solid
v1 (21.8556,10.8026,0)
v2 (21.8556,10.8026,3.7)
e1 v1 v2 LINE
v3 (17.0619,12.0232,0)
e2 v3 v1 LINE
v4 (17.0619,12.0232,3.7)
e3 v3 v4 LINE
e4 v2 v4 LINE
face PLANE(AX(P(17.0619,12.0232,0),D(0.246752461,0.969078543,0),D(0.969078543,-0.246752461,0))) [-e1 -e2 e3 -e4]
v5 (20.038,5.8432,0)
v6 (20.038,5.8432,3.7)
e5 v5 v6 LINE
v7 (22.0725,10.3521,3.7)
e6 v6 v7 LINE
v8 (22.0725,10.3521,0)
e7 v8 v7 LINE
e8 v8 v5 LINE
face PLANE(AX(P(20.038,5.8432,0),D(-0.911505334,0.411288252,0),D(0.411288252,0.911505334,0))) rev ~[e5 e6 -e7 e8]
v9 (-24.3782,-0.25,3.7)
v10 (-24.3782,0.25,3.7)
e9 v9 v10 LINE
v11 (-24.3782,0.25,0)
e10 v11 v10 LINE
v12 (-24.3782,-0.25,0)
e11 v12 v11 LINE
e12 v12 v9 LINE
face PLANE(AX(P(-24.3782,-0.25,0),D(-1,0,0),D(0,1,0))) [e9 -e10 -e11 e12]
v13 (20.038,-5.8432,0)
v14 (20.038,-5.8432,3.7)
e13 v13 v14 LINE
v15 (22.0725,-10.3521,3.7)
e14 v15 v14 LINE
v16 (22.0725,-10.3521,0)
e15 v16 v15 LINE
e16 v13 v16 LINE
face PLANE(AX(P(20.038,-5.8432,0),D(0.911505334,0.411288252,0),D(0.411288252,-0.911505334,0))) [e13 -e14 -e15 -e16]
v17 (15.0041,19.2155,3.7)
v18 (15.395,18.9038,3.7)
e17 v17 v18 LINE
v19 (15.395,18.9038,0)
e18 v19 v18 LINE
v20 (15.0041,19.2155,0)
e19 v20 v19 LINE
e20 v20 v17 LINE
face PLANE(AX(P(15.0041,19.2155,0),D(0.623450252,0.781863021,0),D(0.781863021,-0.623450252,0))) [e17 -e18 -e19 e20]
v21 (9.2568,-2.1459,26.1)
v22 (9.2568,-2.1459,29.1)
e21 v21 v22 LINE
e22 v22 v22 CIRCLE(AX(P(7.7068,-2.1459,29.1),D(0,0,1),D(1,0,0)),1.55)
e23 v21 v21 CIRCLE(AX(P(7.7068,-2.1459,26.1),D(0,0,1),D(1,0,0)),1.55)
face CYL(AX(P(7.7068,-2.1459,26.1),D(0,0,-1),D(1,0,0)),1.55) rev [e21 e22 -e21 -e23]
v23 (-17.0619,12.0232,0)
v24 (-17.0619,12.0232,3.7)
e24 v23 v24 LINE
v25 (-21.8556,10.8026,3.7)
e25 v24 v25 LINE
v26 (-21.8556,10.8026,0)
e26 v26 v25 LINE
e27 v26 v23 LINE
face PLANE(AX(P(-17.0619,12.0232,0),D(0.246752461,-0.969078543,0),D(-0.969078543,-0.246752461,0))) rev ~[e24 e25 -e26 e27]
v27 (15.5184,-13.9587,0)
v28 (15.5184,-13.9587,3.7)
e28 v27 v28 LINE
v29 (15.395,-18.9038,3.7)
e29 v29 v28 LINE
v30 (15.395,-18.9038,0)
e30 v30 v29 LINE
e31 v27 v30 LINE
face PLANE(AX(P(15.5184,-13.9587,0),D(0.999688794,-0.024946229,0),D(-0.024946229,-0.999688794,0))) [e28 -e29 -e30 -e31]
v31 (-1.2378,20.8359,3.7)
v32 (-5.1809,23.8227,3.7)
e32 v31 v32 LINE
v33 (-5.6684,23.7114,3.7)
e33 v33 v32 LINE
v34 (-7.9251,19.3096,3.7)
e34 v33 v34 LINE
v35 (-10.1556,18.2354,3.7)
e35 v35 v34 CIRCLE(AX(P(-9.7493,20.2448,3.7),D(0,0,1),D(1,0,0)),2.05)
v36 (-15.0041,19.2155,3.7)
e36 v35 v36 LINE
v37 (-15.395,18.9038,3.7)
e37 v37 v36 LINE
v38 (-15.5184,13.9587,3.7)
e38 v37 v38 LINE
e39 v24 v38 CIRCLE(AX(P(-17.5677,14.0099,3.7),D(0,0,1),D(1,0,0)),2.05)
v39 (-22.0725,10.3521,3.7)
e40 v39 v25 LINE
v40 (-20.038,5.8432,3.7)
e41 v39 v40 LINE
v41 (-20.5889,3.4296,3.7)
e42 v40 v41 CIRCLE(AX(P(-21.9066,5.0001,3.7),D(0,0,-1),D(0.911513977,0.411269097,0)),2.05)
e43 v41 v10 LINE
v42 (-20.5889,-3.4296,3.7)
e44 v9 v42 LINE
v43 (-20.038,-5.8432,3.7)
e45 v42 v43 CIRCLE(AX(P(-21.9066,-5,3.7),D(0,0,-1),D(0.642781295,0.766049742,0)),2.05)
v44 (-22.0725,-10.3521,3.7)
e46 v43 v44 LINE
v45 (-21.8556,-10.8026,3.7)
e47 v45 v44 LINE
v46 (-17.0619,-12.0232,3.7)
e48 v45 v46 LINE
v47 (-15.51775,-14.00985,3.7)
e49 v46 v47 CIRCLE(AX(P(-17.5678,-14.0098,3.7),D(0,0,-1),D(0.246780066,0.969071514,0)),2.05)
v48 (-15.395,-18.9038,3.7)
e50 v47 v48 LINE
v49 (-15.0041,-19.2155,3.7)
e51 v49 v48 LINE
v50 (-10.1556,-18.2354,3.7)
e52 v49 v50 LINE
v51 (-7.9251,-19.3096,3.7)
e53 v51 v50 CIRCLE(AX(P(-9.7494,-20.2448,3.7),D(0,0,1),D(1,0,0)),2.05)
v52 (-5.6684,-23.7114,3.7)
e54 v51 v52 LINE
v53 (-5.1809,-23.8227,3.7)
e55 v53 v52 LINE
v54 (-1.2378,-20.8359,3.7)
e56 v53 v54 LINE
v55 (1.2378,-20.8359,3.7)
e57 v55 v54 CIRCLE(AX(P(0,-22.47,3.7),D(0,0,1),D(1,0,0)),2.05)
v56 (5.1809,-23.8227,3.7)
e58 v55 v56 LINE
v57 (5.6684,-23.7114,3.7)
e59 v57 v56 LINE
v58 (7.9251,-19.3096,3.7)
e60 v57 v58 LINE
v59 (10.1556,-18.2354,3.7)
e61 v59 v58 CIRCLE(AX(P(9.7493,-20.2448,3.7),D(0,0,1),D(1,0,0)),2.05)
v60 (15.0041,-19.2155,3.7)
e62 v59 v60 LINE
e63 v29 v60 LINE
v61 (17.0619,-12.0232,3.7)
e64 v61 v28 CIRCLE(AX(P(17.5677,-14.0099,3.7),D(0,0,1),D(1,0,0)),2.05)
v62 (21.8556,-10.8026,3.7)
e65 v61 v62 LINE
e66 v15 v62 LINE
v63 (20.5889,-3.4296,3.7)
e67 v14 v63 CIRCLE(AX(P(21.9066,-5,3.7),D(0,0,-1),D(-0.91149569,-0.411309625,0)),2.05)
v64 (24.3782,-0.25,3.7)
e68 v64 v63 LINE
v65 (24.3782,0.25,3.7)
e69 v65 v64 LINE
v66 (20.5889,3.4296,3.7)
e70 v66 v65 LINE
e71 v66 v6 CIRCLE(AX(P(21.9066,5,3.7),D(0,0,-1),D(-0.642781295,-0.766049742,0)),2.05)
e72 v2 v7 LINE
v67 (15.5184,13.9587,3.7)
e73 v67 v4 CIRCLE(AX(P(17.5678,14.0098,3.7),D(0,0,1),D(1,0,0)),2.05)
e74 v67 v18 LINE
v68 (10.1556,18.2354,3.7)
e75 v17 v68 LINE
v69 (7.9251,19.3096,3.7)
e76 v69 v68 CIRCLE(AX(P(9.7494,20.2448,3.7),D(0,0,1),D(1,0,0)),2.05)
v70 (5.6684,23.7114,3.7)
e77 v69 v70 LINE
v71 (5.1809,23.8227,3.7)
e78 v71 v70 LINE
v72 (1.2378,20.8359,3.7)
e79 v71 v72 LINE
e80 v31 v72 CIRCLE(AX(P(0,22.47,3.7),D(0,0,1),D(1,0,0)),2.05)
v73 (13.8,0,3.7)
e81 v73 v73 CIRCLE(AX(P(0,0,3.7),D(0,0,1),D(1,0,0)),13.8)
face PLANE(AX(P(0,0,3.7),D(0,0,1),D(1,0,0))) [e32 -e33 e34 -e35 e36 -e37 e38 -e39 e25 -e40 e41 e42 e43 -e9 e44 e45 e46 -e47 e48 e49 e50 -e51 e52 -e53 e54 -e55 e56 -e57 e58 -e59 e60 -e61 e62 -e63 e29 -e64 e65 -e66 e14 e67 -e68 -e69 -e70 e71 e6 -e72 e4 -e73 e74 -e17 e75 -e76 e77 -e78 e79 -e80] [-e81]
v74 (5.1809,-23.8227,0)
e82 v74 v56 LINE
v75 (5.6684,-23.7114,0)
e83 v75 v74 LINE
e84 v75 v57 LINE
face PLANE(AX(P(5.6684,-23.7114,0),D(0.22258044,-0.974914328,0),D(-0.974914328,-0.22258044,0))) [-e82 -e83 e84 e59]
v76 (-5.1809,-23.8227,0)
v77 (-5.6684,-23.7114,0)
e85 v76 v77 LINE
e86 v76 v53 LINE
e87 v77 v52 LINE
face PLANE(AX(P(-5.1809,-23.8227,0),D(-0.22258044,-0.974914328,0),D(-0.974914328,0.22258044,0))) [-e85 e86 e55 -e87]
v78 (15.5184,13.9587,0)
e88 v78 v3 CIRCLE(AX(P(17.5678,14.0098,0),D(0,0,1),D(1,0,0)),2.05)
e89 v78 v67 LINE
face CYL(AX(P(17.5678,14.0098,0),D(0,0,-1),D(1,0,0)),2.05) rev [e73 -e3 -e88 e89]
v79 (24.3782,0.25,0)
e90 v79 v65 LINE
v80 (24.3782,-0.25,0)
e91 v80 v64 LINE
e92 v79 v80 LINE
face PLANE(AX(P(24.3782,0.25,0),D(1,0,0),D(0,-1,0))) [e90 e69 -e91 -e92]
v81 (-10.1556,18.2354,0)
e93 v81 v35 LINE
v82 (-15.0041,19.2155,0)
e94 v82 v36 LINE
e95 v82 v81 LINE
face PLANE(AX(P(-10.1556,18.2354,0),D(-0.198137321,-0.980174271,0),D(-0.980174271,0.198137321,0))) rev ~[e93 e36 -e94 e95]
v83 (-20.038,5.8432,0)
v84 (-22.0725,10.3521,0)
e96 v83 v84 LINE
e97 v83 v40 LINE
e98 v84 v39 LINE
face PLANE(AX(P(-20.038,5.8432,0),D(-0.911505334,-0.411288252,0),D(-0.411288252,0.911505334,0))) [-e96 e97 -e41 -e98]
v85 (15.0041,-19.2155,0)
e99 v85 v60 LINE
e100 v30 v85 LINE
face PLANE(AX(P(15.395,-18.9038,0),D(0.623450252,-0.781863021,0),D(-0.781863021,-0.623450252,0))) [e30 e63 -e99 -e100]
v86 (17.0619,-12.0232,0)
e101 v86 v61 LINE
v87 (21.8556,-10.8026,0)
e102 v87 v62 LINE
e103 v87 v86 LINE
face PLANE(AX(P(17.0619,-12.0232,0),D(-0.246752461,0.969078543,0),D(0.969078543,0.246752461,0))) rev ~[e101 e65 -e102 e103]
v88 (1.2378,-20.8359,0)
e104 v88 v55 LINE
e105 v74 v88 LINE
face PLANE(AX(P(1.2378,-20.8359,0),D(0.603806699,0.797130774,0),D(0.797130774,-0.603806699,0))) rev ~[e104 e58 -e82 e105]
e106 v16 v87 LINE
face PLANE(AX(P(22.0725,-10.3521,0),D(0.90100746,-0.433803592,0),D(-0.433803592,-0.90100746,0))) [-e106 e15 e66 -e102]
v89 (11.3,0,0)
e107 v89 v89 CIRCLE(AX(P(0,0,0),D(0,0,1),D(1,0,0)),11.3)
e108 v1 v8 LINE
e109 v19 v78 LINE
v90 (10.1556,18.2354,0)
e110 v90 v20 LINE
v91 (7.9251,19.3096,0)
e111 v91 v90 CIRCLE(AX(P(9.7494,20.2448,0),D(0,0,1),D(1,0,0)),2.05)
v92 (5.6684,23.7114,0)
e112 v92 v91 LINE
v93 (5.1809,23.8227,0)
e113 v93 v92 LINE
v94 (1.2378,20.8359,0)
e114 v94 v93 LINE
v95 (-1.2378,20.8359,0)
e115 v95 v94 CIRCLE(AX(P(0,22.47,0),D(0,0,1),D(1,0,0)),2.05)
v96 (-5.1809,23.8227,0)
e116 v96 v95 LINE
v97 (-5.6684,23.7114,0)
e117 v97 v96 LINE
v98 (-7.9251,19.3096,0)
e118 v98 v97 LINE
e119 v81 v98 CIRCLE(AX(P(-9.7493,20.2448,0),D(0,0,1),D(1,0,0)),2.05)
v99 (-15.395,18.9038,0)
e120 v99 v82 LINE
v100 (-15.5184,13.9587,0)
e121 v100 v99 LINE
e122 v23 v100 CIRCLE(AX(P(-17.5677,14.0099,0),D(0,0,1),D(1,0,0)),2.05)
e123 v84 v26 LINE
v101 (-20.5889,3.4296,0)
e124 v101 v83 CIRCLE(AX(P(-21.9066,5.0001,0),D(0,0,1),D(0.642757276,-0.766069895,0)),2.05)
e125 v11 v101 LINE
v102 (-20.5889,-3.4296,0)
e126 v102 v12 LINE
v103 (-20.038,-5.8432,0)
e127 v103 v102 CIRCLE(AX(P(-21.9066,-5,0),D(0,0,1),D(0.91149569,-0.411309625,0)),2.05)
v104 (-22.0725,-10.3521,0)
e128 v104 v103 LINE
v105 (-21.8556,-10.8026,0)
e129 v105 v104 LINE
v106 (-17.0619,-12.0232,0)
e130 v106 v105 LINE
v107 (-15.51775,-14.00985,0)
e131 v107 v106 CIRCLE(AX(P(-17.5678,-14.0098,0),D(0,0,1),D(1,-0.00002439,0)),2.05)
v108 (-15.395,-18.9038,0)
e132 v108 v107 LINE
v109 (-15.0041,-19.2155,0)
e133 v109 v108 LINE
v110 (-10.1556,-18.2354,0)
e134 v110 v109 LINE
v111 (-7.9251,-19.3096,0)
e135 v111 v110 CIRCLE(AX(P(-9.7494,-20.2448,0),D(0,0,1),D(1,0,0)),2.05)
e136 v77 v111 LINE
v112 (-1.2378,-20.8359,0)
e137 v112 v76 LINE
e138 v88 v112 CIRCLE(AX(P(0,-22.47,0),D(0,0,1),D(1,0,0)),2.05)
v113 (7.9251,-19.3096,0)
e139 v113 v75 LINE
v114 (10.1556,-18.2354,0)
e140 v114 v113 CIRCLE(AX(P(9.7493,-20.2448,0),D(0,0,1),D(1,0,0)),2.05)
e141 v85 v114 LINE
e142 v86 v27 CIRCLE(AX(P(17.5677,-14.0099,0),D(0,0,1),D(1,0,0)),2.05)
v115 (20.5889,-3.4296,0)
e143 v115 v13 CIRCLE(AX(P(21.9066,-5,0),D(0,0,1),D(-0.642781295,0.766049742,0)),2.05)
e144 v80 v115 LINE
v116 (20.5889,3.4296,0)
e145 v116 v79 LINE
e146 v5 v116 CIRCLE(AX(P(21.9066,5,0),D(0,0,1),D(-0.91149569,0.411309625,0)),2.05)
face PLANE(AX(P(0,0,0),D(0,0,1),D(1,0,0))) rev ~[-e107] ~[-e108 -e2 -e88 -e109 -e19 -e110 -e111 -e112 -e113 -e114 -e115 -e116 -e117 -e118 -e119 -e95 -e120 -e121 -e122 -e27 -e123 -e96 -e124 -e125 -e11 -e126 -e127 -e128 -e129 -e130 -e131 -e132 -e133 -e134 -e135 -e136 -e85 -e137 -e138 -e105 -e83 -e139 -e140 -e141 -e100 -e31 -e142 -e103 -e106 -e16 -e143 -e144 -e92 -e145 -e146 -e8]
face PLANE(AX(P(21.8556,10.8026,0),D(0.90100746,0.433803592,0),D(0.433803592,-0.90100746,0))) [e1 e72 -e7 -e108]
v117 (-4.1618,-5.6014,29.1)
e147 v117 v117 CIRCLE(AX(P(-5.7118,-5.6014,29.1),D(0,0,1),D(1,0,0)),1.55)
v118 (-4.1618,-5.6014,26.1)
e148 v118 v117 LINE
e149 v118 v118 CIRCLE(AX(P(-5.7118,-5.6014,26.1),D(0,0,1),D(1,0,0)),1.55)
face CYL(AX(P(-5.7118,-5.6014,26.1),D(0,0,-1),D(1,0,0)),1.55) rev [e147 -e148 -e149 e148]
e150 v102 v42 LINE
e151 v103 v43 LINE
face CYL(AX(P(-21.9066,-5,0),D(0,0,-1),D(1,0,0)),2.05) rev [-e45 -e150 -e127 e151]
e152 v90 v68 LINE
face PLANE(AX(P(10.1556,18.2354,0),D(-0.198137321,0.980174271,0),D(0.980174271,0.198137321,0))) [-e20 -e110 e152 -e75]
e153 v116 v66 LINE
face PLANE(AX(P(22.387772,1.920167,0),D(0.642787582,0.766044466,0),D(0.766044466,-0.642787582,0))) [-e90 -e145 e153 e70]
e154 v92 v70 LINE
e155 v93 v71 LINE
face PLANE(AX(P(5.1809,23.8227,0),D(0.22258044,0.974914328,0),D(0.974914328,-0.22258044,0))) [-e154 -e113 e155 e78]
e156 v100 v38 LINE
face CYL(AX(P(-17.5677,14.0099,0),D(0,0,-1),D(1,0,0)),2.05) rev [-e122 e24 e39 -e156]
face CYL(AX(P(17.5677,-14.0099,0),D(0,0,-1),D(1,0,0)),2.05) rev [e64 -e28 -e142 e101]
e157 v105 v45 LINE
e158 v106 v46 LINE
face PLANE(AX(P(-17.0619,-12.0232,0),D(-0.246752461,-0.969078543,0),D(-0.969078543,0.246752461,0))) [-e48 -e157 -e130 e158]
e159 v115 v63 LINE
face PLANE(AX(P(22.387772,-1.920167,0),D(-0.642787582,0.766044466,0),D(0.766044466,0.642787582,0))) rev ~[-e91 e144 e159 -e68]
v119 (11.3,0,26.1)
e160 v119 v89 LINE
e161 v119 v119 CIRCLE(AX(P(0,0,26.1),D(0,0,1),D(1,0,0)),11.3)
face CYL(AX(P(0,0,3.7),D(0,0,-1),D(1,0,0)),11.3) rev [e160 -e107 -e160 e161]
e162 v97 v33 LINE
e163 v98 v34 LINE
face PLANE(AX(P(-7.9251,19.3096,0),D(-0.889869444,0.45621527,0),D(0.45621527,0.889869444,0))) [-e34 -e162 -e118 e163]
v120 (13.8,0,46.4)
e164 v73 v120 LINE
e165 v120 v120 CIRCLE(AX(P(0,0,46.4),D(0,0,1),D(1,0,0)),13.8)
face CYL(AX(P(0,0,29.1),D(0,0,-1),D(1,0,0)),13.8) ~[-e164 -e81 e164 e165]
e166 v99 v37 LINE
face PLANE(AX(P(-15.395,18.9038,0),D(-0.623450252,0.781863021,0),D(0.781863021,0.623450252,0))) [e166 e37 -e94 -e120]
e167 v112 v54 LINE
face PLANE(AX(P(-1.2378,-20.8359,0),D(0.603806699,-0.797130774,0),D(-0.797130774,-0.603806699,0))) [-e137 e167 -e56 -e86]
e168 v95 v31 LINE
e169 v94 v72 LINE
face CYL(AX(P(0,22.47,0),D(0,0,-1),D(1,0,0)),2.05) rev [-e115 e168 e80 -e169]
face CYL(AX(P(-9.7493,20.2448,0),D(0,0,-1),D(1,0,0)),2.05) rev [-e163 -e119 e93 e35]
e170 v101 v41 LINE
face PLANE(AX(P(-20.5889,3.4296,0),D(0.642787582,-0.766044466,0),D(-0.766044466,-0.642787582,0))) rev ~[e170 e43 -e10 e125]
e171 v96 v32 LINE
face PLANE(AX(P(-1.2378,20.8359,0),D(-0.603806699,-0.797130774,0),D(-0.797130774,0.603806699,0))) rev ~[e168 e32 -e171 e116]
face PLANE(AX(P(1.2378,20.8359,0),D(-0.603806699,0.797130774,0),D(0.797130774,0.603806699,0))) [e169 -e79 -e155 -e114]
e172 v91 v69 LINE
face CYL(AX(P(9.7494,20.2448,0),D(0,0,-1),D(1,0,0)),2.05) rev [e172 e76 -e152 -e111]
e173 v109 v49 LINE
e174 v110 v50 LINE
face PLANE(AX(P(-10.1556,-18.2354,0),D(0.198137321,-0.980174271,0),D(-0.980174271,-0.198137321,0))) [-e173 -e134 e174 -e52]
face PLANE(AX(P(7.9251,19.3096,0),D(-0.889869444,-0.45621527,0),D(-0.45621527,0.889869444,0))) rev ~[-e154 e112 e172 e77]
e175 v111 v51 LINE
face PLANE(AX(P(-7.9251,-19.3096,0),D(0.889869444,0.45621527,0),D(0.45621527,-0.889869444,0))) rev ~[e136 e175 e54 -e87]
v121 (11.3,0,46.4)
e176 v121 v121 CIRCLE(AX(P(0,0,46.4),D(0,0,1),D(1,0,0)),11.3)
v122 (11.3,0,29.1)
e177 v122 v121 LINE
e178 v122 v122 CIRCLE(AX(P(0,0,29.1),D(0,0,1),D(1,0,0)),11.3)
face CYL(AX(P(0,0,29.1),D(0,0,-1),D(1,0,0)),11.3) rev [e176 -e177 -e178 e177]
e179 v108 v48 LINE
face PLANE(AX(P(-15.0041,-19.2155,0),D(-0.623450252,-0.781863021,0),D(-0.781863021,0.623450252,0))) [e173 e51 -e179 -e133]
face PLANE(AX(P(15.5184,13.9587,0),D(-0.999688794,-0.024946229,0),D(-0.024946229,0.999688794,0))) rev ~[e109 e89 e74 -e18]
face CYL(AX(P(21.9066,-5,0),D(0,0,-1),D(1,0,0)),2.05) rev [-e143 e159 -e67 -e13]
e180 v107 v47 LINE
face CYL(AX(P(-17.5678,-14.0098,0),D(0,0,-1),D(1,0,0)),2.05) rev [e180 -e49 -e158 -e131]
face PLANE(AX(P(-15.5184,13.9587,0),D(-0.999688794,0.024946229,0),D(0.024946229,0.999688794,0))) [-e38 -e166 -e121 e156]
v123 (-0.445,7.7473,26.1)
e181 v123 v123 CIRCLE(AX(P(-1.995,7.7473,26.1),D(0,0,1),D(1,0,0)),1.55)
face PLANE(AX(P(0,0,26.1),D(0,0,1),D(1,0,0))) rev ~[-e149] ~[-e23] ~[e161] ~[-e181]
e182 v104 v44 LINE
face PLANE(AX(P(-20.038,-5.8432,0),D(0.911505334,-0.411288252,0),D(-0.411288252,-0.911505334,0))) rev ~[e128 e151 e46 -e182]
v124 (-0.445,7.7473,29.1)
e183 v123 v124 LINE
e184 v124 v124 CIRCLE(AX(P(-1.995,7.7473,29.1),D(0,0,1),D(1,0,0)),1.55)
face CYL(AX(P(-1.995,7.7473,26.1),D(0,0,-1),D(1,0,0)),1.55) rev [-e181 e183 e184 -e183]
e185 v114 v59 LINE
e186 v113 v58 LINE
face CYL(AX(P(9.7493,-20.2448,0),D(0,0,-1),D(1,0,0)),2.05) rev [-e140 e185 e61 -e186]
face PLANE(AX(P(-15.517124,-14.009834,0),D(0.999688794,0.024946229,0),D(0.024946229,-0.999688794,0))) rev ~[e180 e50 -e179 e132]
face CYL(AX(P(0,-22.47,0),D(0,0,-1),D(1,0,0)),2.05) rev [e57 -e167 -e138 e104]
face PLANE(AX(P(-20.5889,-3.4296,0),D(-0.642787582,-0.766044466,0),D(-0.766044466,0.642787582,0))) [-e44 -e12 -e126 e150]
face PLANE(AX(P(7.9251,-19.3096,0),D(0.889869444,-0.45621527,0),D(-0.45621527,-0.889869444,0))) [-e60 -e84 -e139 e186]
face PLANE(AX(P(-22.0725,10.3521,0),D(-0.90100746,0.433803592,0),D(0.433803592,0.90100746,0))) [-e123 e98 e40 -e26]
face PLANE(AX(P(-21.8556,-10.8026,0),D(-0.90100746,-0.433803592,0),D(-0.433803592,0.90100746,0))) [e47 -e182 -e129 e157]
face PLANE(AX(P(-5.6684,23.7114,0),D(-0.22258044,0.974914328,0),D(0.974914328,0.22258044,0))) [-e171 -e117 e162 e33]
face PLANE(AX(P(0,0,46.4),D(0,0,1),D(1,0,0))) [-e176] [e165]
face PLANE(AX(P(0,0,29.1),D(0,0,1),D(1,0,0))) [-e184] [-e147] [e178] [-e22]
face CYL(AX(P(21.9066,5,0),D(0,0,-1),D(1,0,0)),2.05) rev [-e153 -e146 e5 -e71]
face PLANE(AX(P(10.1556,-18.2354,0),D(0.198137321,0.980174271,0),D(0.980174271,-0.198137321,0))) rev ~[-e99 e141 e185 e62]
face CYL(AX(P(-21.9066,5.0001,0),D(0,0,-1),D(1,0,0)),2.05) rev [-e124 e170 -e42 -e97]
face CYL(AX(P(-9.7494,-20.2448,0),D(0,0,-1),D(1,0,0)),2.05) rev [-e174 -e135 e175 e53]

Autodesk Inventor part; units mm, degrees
ref_plane "YZ Plane" through (0, 0, 0) normal (1, 0, 0) x (0, 1, 0)
ref_plane "XZ Plane" through (0, 0, 0) normal (0, 1, 0) x (-1, 0, 0)
ref_plane "XY Plane" through (0, 0, 0) normal (0, 0, 1) x (1, 0, 0)
sketch "Эскиз1" plane through (0, 0, 0) normal (0, 0, 1) x (1, 0, 0)
  circle A0 centre (0, 0) radius 22.47
  line L0 (21.9066, 5) -> (21.9066, -5)
  circle A1 centre (21.9066, -5) radius 2.05
  circle A2 centre (21.9066, 5) radius 2.05
  line L1 (21.9066, 5) -> (0, 0)
  line L2 (0, 0) -> (21.9066, -5)
  line L3 (21.9066, 5) -> (13.9325, -4.5032)
  circle A3 centre (0, 0) radius 15.4921
  line L4 (20.5889, 3.4296) -> (24.3782, 0.25)
  line L5 (0, 0) -> (4.0279, 0)
  line L6 (20.5889, -3.4296) -> (24.3782, -0.25)
  line L7 (24.3782, 0.25) -> (24.3782, -0.25)
  line L8 (21.9066, -5) -> (14.1251, 4.2737)
  line L9 (21.8556, 10.8026) -> (22.0725, 10.3521)
  circle A4 centre (21.9066, 5.0001) radius 2.05
  line L10 (20.038, 5.8432) -> (22.0725, 10.3521)
  line L11 (17.0619, 12.0232) -> (21.8556, 10.8026)
  circle A5 centre (17.5678, 14.0098) radius 2.05
  line L12 (15.0041, 19.2155) -> (15.395, 18.9038)
  circle A6 centre (17.5677, 14.0099) radius 2.05
  line L13 (15.5184, 13.9587) -> (15.395, 18.9038)
  line L14 (10.1556, 18.2354) -> (15.0041, 19.2155)
  circle A7 centre (9.7494, 20.2448) radius 2.05
  line L15 (5.1809, 23.8227) -> (5.6684, 23.7114)
  circle A8 centre (9.7493, 20.2448) radius 2.05
  line L16 (7.9251, 19.3096) -> (5.6684, 23.7114)
  line L17 (1.2378, 20.8359) -> (5.1809, 23.8227)
  circle A9 centre (0, 22.47) radius 2.05
  line L18 (-5.6684, 23.7114) -> (-5.1809, 23.8227)
  circle A10 centre (0, 22.47) radius 2.05
  line L19 (-1.2378, 20.8359) -> (-5.1809, 23.8227)
  line L20 (-7.9251, 19.3096) -> (-5.6684, 23.7114)
  circle A11 centre (-9.7493, 20.2448) radius 2.05
  line L21 (-15.395, 18.9038) -> (-15.0041, 19.2155)
  circle A12 centre (-9.7494, 20.2448) radius 2.05
  line L22 (-10.1556, 18.2354) -> (-15.0041, 19.2155)
  line L23 (-15.5184, 13.9587) -> (-15.395, 18.9038)
  circle A13 centre (-17.5677, 14.0099) radius 2.05
  line L24 (-22.0725, 10.3521) -> (-21.8556, 10.8026)
  circle A14 centre (-17.5678, 14.0098) radius 2.05
  line L25 (-17.0619, 12.0232) -> (-21.8556, 10.8026)
  line L26 (-20.038, 5.8432) -> (-22.0725, 10.3521)
  circle A15 centre (-21.9066, 5.0001) radius 2.05
  line L27 (-24.3782, -0.25) -> (-24.3782, 0.25)
  circle A16 centre (-21.9066, 5) radius 2.05
  line L28 (-20.5889, 3.4296) -> (-24.3782, 0.25)
  line L29 (-20.5889, -3.4296) -> (-24.3782, -0.25)
  circle A17 centre (-21.9066, -5) radius 2.05
  line L30 (-21.8556, -10.8026) -> (-22.0725, -10.3521)
  circle A18 centre (-21.9066, -5.0001) radius 2.05
  line L31 (-20.038, -5.8432) -> (-22.0725, -10.3521)
  line L32 (-17.0619, -12.0232) -> (-21.8556, -10.8026)
  circle A19 centre (-17.5678, -14.0098) radius 2.05
  line L33 (-15.0041, -19.2155) -> (-15.395, -18.9038)
  circle A20 centre (-17.5677, -14.0099) radius 2.05
  line L34 (-15.5184, -13.9587) -> (-15.395, -18.9038)
  line L35 (-10.1556, -18.2354) -> (-15.0041, -19.2155)
  circle A21 centre (-9.7494, -20.2448) radius 2.05
  line L36 (-5.1809, -23.8227) -> (-5.6684, -23.7114)
  circle A22 centre (-9.7493, -20.2448) radius 2.05
  line L37 (-7.9251, -19.3096) -> (-5.6684, -23.7114)
  line L38 (-1.2378, -20.8359) -> (-5.1809, -23.8227)
  circle A23 centre (0, -22.47) radius 2.05
  line L39 (5.6684, -23.7114) -> (5.1809, -23.8227)
  circle A24 centre (0, -22.47) radius 2.05
  line L40 (1.2378, -20.8359) -> (5.1809, -23.8227)
  line L41 (7.9251, -19.3096) -> (5.6684, -23.7114)
  circle A25 centre (9.7493, -20.2448) radius 2.05
  line L42 (15.395, -18.9038) -> (15.0041, -19.2155)
  circle A26 centre (9.7494, -20.2448) radius 2.05
  line L43 (10.1556, -18.2354) -> (15.0041, -19.2155)
  line L44 (15.5184, -13.9587) -> (15.395, -18.9038)
  circle A27 centre (17.5677, -14.0099) radius 2.05
  line L45 (22.0725, -10.3521) -> (21.8556, -10.8026)
  circle A28 centre (17.5678, -14.0098) radius 2.05
  line L46 (17.0619, -12.0232) -> (21.8556, -10.8026)
  line L47 (20.038, -5.8432) -> (22.0725, -10.3521)
  circle A29 centre (21.9066, -5.0001) radius 2.05
  line L48 (22.3878, 1.9202) -> (22.3878, -1.9202)
  circle A30 centre (0, 0) radius 11.3
  point P0 (21.9066, 0)
  point P1 (19.908, 4.5439)
  point P2 (15.965, 12.7317)
  point P3 (8.8599, 18.3978)
  point P4 (0, 20.42)
  point P5 (-8.8599, 18.3978)
  point P6 (-15.965, 12.7317)
  point P7 (-19.908, 4.5439)
  point P8 (-19.908, -4.5439)
  point P9 (-15.965, -12.7317)
  point P10 (-8.8599, -18.3978)
  point P11 (0, -20.42)
  point P12 (8.8599, -18.3978)
  point P13 (15.965, -12.7317)
  point P14 (19.908, -4.5439)
  point P15 (11.0167, -2.5145)
  point P16 (11.0167, 2.5145)
  point P17 (15.1037, 3.4473)
  point P18 (15.1037, -3.4473)
  dimension "d3" = 4.1
  dimension "d0" = 44.94
  dimension "d1" = 10
  dimension "d2" = 4.1
  dimension "d4" = 40
  dimension "d6" = 40
  dimension "d9" = 360
  dimension "d13" = 0.5
  dimension "d23" = 3.8403
  dimension "d24" = 22.6
extrude "Выдавливание1" add sketch "Эскиз1" along normal blind 3.7 contours A0 L48 | A0 L4 L7 L6 | L48 L6 L0 L4 | L0 L6 L8 L3 L4 | L3 L8 A3 L1 A2 | A1 L2 A3 L3 L8 | L1 A3 L2 A1 L47 A0 L46 A27 L44 L43 A25 L41 L40 A23 L38 L37 A21 L35 L34 A19 L32 L31 A17 L29 L28 A15 L26 L25 A13 L23 L22 A11 L20 L19 A9 L17 L16 A7 L14 L13 A5 L11 L10 A2 | L3 A3 L8 | A0 L11 L9 L10 | A3 L8 L1 | L1 A30 L2 A3 | A3 L2 L3 | L3 L2 A30 L1 L8 A3 | L47 L45 L46 A0 | A0 L14 L12 L13 | L44 L42 L43 A0 | A0 L17 L15 L16 | L41 L39 L40 A0 | A0 L20 L18 L19 | L38 L36 L37 A0 | A0 L23 L21 L22 | L35 L33 L34 A0 | A0 L26 L24 L25 | L32 L30 L31 A0 | A0 L29 L27 L28
sketch "Эскиз5" plane through (0, 0, 3.7) normal (0, 0, 1) x (1, 0, 0)
  circle A0 centre (0, 0) radius 13.8
  circle A1 centre (0, 0) radius 11.3 projected
  dimension "d25" = 2.5
extrude "Выдавливание3" add sketch "Эскиз5" along normal blind 22.4
sketch "Эскиз6" plane through (0, 0, 26.1) normal (0, 0, 1) x (1, 0, 0)
  circle A0 centre (0, 0) radius 13.8
  circle A1 centre (-1.995, 7.7473) radius 1.55 projected
  circle A2 centre (7.7068, -2.1459) radius 1.55 projected
  circle A3 centre (-5.7118, -5.6014) radius 1.55 projected
extrude "Выдавливание4" add sketch "Эскиз6" along normal blind 3
sketch "Эскиз7" plane through (0, 0, 29.1) normal (0, 0, 1) x (1, 0, 0)
  circle A0 centre (0, 0) radius 11.3 projected
  circle A1 centre (0, 0) radius 13.8 projected
extrude "Выдавливание5" add sketch "Эскиз7" along normal blind 17.3
equation "\"d2\" = d3"
properties part number "ВедущееКолесо" material "Пластик ЖКП"
